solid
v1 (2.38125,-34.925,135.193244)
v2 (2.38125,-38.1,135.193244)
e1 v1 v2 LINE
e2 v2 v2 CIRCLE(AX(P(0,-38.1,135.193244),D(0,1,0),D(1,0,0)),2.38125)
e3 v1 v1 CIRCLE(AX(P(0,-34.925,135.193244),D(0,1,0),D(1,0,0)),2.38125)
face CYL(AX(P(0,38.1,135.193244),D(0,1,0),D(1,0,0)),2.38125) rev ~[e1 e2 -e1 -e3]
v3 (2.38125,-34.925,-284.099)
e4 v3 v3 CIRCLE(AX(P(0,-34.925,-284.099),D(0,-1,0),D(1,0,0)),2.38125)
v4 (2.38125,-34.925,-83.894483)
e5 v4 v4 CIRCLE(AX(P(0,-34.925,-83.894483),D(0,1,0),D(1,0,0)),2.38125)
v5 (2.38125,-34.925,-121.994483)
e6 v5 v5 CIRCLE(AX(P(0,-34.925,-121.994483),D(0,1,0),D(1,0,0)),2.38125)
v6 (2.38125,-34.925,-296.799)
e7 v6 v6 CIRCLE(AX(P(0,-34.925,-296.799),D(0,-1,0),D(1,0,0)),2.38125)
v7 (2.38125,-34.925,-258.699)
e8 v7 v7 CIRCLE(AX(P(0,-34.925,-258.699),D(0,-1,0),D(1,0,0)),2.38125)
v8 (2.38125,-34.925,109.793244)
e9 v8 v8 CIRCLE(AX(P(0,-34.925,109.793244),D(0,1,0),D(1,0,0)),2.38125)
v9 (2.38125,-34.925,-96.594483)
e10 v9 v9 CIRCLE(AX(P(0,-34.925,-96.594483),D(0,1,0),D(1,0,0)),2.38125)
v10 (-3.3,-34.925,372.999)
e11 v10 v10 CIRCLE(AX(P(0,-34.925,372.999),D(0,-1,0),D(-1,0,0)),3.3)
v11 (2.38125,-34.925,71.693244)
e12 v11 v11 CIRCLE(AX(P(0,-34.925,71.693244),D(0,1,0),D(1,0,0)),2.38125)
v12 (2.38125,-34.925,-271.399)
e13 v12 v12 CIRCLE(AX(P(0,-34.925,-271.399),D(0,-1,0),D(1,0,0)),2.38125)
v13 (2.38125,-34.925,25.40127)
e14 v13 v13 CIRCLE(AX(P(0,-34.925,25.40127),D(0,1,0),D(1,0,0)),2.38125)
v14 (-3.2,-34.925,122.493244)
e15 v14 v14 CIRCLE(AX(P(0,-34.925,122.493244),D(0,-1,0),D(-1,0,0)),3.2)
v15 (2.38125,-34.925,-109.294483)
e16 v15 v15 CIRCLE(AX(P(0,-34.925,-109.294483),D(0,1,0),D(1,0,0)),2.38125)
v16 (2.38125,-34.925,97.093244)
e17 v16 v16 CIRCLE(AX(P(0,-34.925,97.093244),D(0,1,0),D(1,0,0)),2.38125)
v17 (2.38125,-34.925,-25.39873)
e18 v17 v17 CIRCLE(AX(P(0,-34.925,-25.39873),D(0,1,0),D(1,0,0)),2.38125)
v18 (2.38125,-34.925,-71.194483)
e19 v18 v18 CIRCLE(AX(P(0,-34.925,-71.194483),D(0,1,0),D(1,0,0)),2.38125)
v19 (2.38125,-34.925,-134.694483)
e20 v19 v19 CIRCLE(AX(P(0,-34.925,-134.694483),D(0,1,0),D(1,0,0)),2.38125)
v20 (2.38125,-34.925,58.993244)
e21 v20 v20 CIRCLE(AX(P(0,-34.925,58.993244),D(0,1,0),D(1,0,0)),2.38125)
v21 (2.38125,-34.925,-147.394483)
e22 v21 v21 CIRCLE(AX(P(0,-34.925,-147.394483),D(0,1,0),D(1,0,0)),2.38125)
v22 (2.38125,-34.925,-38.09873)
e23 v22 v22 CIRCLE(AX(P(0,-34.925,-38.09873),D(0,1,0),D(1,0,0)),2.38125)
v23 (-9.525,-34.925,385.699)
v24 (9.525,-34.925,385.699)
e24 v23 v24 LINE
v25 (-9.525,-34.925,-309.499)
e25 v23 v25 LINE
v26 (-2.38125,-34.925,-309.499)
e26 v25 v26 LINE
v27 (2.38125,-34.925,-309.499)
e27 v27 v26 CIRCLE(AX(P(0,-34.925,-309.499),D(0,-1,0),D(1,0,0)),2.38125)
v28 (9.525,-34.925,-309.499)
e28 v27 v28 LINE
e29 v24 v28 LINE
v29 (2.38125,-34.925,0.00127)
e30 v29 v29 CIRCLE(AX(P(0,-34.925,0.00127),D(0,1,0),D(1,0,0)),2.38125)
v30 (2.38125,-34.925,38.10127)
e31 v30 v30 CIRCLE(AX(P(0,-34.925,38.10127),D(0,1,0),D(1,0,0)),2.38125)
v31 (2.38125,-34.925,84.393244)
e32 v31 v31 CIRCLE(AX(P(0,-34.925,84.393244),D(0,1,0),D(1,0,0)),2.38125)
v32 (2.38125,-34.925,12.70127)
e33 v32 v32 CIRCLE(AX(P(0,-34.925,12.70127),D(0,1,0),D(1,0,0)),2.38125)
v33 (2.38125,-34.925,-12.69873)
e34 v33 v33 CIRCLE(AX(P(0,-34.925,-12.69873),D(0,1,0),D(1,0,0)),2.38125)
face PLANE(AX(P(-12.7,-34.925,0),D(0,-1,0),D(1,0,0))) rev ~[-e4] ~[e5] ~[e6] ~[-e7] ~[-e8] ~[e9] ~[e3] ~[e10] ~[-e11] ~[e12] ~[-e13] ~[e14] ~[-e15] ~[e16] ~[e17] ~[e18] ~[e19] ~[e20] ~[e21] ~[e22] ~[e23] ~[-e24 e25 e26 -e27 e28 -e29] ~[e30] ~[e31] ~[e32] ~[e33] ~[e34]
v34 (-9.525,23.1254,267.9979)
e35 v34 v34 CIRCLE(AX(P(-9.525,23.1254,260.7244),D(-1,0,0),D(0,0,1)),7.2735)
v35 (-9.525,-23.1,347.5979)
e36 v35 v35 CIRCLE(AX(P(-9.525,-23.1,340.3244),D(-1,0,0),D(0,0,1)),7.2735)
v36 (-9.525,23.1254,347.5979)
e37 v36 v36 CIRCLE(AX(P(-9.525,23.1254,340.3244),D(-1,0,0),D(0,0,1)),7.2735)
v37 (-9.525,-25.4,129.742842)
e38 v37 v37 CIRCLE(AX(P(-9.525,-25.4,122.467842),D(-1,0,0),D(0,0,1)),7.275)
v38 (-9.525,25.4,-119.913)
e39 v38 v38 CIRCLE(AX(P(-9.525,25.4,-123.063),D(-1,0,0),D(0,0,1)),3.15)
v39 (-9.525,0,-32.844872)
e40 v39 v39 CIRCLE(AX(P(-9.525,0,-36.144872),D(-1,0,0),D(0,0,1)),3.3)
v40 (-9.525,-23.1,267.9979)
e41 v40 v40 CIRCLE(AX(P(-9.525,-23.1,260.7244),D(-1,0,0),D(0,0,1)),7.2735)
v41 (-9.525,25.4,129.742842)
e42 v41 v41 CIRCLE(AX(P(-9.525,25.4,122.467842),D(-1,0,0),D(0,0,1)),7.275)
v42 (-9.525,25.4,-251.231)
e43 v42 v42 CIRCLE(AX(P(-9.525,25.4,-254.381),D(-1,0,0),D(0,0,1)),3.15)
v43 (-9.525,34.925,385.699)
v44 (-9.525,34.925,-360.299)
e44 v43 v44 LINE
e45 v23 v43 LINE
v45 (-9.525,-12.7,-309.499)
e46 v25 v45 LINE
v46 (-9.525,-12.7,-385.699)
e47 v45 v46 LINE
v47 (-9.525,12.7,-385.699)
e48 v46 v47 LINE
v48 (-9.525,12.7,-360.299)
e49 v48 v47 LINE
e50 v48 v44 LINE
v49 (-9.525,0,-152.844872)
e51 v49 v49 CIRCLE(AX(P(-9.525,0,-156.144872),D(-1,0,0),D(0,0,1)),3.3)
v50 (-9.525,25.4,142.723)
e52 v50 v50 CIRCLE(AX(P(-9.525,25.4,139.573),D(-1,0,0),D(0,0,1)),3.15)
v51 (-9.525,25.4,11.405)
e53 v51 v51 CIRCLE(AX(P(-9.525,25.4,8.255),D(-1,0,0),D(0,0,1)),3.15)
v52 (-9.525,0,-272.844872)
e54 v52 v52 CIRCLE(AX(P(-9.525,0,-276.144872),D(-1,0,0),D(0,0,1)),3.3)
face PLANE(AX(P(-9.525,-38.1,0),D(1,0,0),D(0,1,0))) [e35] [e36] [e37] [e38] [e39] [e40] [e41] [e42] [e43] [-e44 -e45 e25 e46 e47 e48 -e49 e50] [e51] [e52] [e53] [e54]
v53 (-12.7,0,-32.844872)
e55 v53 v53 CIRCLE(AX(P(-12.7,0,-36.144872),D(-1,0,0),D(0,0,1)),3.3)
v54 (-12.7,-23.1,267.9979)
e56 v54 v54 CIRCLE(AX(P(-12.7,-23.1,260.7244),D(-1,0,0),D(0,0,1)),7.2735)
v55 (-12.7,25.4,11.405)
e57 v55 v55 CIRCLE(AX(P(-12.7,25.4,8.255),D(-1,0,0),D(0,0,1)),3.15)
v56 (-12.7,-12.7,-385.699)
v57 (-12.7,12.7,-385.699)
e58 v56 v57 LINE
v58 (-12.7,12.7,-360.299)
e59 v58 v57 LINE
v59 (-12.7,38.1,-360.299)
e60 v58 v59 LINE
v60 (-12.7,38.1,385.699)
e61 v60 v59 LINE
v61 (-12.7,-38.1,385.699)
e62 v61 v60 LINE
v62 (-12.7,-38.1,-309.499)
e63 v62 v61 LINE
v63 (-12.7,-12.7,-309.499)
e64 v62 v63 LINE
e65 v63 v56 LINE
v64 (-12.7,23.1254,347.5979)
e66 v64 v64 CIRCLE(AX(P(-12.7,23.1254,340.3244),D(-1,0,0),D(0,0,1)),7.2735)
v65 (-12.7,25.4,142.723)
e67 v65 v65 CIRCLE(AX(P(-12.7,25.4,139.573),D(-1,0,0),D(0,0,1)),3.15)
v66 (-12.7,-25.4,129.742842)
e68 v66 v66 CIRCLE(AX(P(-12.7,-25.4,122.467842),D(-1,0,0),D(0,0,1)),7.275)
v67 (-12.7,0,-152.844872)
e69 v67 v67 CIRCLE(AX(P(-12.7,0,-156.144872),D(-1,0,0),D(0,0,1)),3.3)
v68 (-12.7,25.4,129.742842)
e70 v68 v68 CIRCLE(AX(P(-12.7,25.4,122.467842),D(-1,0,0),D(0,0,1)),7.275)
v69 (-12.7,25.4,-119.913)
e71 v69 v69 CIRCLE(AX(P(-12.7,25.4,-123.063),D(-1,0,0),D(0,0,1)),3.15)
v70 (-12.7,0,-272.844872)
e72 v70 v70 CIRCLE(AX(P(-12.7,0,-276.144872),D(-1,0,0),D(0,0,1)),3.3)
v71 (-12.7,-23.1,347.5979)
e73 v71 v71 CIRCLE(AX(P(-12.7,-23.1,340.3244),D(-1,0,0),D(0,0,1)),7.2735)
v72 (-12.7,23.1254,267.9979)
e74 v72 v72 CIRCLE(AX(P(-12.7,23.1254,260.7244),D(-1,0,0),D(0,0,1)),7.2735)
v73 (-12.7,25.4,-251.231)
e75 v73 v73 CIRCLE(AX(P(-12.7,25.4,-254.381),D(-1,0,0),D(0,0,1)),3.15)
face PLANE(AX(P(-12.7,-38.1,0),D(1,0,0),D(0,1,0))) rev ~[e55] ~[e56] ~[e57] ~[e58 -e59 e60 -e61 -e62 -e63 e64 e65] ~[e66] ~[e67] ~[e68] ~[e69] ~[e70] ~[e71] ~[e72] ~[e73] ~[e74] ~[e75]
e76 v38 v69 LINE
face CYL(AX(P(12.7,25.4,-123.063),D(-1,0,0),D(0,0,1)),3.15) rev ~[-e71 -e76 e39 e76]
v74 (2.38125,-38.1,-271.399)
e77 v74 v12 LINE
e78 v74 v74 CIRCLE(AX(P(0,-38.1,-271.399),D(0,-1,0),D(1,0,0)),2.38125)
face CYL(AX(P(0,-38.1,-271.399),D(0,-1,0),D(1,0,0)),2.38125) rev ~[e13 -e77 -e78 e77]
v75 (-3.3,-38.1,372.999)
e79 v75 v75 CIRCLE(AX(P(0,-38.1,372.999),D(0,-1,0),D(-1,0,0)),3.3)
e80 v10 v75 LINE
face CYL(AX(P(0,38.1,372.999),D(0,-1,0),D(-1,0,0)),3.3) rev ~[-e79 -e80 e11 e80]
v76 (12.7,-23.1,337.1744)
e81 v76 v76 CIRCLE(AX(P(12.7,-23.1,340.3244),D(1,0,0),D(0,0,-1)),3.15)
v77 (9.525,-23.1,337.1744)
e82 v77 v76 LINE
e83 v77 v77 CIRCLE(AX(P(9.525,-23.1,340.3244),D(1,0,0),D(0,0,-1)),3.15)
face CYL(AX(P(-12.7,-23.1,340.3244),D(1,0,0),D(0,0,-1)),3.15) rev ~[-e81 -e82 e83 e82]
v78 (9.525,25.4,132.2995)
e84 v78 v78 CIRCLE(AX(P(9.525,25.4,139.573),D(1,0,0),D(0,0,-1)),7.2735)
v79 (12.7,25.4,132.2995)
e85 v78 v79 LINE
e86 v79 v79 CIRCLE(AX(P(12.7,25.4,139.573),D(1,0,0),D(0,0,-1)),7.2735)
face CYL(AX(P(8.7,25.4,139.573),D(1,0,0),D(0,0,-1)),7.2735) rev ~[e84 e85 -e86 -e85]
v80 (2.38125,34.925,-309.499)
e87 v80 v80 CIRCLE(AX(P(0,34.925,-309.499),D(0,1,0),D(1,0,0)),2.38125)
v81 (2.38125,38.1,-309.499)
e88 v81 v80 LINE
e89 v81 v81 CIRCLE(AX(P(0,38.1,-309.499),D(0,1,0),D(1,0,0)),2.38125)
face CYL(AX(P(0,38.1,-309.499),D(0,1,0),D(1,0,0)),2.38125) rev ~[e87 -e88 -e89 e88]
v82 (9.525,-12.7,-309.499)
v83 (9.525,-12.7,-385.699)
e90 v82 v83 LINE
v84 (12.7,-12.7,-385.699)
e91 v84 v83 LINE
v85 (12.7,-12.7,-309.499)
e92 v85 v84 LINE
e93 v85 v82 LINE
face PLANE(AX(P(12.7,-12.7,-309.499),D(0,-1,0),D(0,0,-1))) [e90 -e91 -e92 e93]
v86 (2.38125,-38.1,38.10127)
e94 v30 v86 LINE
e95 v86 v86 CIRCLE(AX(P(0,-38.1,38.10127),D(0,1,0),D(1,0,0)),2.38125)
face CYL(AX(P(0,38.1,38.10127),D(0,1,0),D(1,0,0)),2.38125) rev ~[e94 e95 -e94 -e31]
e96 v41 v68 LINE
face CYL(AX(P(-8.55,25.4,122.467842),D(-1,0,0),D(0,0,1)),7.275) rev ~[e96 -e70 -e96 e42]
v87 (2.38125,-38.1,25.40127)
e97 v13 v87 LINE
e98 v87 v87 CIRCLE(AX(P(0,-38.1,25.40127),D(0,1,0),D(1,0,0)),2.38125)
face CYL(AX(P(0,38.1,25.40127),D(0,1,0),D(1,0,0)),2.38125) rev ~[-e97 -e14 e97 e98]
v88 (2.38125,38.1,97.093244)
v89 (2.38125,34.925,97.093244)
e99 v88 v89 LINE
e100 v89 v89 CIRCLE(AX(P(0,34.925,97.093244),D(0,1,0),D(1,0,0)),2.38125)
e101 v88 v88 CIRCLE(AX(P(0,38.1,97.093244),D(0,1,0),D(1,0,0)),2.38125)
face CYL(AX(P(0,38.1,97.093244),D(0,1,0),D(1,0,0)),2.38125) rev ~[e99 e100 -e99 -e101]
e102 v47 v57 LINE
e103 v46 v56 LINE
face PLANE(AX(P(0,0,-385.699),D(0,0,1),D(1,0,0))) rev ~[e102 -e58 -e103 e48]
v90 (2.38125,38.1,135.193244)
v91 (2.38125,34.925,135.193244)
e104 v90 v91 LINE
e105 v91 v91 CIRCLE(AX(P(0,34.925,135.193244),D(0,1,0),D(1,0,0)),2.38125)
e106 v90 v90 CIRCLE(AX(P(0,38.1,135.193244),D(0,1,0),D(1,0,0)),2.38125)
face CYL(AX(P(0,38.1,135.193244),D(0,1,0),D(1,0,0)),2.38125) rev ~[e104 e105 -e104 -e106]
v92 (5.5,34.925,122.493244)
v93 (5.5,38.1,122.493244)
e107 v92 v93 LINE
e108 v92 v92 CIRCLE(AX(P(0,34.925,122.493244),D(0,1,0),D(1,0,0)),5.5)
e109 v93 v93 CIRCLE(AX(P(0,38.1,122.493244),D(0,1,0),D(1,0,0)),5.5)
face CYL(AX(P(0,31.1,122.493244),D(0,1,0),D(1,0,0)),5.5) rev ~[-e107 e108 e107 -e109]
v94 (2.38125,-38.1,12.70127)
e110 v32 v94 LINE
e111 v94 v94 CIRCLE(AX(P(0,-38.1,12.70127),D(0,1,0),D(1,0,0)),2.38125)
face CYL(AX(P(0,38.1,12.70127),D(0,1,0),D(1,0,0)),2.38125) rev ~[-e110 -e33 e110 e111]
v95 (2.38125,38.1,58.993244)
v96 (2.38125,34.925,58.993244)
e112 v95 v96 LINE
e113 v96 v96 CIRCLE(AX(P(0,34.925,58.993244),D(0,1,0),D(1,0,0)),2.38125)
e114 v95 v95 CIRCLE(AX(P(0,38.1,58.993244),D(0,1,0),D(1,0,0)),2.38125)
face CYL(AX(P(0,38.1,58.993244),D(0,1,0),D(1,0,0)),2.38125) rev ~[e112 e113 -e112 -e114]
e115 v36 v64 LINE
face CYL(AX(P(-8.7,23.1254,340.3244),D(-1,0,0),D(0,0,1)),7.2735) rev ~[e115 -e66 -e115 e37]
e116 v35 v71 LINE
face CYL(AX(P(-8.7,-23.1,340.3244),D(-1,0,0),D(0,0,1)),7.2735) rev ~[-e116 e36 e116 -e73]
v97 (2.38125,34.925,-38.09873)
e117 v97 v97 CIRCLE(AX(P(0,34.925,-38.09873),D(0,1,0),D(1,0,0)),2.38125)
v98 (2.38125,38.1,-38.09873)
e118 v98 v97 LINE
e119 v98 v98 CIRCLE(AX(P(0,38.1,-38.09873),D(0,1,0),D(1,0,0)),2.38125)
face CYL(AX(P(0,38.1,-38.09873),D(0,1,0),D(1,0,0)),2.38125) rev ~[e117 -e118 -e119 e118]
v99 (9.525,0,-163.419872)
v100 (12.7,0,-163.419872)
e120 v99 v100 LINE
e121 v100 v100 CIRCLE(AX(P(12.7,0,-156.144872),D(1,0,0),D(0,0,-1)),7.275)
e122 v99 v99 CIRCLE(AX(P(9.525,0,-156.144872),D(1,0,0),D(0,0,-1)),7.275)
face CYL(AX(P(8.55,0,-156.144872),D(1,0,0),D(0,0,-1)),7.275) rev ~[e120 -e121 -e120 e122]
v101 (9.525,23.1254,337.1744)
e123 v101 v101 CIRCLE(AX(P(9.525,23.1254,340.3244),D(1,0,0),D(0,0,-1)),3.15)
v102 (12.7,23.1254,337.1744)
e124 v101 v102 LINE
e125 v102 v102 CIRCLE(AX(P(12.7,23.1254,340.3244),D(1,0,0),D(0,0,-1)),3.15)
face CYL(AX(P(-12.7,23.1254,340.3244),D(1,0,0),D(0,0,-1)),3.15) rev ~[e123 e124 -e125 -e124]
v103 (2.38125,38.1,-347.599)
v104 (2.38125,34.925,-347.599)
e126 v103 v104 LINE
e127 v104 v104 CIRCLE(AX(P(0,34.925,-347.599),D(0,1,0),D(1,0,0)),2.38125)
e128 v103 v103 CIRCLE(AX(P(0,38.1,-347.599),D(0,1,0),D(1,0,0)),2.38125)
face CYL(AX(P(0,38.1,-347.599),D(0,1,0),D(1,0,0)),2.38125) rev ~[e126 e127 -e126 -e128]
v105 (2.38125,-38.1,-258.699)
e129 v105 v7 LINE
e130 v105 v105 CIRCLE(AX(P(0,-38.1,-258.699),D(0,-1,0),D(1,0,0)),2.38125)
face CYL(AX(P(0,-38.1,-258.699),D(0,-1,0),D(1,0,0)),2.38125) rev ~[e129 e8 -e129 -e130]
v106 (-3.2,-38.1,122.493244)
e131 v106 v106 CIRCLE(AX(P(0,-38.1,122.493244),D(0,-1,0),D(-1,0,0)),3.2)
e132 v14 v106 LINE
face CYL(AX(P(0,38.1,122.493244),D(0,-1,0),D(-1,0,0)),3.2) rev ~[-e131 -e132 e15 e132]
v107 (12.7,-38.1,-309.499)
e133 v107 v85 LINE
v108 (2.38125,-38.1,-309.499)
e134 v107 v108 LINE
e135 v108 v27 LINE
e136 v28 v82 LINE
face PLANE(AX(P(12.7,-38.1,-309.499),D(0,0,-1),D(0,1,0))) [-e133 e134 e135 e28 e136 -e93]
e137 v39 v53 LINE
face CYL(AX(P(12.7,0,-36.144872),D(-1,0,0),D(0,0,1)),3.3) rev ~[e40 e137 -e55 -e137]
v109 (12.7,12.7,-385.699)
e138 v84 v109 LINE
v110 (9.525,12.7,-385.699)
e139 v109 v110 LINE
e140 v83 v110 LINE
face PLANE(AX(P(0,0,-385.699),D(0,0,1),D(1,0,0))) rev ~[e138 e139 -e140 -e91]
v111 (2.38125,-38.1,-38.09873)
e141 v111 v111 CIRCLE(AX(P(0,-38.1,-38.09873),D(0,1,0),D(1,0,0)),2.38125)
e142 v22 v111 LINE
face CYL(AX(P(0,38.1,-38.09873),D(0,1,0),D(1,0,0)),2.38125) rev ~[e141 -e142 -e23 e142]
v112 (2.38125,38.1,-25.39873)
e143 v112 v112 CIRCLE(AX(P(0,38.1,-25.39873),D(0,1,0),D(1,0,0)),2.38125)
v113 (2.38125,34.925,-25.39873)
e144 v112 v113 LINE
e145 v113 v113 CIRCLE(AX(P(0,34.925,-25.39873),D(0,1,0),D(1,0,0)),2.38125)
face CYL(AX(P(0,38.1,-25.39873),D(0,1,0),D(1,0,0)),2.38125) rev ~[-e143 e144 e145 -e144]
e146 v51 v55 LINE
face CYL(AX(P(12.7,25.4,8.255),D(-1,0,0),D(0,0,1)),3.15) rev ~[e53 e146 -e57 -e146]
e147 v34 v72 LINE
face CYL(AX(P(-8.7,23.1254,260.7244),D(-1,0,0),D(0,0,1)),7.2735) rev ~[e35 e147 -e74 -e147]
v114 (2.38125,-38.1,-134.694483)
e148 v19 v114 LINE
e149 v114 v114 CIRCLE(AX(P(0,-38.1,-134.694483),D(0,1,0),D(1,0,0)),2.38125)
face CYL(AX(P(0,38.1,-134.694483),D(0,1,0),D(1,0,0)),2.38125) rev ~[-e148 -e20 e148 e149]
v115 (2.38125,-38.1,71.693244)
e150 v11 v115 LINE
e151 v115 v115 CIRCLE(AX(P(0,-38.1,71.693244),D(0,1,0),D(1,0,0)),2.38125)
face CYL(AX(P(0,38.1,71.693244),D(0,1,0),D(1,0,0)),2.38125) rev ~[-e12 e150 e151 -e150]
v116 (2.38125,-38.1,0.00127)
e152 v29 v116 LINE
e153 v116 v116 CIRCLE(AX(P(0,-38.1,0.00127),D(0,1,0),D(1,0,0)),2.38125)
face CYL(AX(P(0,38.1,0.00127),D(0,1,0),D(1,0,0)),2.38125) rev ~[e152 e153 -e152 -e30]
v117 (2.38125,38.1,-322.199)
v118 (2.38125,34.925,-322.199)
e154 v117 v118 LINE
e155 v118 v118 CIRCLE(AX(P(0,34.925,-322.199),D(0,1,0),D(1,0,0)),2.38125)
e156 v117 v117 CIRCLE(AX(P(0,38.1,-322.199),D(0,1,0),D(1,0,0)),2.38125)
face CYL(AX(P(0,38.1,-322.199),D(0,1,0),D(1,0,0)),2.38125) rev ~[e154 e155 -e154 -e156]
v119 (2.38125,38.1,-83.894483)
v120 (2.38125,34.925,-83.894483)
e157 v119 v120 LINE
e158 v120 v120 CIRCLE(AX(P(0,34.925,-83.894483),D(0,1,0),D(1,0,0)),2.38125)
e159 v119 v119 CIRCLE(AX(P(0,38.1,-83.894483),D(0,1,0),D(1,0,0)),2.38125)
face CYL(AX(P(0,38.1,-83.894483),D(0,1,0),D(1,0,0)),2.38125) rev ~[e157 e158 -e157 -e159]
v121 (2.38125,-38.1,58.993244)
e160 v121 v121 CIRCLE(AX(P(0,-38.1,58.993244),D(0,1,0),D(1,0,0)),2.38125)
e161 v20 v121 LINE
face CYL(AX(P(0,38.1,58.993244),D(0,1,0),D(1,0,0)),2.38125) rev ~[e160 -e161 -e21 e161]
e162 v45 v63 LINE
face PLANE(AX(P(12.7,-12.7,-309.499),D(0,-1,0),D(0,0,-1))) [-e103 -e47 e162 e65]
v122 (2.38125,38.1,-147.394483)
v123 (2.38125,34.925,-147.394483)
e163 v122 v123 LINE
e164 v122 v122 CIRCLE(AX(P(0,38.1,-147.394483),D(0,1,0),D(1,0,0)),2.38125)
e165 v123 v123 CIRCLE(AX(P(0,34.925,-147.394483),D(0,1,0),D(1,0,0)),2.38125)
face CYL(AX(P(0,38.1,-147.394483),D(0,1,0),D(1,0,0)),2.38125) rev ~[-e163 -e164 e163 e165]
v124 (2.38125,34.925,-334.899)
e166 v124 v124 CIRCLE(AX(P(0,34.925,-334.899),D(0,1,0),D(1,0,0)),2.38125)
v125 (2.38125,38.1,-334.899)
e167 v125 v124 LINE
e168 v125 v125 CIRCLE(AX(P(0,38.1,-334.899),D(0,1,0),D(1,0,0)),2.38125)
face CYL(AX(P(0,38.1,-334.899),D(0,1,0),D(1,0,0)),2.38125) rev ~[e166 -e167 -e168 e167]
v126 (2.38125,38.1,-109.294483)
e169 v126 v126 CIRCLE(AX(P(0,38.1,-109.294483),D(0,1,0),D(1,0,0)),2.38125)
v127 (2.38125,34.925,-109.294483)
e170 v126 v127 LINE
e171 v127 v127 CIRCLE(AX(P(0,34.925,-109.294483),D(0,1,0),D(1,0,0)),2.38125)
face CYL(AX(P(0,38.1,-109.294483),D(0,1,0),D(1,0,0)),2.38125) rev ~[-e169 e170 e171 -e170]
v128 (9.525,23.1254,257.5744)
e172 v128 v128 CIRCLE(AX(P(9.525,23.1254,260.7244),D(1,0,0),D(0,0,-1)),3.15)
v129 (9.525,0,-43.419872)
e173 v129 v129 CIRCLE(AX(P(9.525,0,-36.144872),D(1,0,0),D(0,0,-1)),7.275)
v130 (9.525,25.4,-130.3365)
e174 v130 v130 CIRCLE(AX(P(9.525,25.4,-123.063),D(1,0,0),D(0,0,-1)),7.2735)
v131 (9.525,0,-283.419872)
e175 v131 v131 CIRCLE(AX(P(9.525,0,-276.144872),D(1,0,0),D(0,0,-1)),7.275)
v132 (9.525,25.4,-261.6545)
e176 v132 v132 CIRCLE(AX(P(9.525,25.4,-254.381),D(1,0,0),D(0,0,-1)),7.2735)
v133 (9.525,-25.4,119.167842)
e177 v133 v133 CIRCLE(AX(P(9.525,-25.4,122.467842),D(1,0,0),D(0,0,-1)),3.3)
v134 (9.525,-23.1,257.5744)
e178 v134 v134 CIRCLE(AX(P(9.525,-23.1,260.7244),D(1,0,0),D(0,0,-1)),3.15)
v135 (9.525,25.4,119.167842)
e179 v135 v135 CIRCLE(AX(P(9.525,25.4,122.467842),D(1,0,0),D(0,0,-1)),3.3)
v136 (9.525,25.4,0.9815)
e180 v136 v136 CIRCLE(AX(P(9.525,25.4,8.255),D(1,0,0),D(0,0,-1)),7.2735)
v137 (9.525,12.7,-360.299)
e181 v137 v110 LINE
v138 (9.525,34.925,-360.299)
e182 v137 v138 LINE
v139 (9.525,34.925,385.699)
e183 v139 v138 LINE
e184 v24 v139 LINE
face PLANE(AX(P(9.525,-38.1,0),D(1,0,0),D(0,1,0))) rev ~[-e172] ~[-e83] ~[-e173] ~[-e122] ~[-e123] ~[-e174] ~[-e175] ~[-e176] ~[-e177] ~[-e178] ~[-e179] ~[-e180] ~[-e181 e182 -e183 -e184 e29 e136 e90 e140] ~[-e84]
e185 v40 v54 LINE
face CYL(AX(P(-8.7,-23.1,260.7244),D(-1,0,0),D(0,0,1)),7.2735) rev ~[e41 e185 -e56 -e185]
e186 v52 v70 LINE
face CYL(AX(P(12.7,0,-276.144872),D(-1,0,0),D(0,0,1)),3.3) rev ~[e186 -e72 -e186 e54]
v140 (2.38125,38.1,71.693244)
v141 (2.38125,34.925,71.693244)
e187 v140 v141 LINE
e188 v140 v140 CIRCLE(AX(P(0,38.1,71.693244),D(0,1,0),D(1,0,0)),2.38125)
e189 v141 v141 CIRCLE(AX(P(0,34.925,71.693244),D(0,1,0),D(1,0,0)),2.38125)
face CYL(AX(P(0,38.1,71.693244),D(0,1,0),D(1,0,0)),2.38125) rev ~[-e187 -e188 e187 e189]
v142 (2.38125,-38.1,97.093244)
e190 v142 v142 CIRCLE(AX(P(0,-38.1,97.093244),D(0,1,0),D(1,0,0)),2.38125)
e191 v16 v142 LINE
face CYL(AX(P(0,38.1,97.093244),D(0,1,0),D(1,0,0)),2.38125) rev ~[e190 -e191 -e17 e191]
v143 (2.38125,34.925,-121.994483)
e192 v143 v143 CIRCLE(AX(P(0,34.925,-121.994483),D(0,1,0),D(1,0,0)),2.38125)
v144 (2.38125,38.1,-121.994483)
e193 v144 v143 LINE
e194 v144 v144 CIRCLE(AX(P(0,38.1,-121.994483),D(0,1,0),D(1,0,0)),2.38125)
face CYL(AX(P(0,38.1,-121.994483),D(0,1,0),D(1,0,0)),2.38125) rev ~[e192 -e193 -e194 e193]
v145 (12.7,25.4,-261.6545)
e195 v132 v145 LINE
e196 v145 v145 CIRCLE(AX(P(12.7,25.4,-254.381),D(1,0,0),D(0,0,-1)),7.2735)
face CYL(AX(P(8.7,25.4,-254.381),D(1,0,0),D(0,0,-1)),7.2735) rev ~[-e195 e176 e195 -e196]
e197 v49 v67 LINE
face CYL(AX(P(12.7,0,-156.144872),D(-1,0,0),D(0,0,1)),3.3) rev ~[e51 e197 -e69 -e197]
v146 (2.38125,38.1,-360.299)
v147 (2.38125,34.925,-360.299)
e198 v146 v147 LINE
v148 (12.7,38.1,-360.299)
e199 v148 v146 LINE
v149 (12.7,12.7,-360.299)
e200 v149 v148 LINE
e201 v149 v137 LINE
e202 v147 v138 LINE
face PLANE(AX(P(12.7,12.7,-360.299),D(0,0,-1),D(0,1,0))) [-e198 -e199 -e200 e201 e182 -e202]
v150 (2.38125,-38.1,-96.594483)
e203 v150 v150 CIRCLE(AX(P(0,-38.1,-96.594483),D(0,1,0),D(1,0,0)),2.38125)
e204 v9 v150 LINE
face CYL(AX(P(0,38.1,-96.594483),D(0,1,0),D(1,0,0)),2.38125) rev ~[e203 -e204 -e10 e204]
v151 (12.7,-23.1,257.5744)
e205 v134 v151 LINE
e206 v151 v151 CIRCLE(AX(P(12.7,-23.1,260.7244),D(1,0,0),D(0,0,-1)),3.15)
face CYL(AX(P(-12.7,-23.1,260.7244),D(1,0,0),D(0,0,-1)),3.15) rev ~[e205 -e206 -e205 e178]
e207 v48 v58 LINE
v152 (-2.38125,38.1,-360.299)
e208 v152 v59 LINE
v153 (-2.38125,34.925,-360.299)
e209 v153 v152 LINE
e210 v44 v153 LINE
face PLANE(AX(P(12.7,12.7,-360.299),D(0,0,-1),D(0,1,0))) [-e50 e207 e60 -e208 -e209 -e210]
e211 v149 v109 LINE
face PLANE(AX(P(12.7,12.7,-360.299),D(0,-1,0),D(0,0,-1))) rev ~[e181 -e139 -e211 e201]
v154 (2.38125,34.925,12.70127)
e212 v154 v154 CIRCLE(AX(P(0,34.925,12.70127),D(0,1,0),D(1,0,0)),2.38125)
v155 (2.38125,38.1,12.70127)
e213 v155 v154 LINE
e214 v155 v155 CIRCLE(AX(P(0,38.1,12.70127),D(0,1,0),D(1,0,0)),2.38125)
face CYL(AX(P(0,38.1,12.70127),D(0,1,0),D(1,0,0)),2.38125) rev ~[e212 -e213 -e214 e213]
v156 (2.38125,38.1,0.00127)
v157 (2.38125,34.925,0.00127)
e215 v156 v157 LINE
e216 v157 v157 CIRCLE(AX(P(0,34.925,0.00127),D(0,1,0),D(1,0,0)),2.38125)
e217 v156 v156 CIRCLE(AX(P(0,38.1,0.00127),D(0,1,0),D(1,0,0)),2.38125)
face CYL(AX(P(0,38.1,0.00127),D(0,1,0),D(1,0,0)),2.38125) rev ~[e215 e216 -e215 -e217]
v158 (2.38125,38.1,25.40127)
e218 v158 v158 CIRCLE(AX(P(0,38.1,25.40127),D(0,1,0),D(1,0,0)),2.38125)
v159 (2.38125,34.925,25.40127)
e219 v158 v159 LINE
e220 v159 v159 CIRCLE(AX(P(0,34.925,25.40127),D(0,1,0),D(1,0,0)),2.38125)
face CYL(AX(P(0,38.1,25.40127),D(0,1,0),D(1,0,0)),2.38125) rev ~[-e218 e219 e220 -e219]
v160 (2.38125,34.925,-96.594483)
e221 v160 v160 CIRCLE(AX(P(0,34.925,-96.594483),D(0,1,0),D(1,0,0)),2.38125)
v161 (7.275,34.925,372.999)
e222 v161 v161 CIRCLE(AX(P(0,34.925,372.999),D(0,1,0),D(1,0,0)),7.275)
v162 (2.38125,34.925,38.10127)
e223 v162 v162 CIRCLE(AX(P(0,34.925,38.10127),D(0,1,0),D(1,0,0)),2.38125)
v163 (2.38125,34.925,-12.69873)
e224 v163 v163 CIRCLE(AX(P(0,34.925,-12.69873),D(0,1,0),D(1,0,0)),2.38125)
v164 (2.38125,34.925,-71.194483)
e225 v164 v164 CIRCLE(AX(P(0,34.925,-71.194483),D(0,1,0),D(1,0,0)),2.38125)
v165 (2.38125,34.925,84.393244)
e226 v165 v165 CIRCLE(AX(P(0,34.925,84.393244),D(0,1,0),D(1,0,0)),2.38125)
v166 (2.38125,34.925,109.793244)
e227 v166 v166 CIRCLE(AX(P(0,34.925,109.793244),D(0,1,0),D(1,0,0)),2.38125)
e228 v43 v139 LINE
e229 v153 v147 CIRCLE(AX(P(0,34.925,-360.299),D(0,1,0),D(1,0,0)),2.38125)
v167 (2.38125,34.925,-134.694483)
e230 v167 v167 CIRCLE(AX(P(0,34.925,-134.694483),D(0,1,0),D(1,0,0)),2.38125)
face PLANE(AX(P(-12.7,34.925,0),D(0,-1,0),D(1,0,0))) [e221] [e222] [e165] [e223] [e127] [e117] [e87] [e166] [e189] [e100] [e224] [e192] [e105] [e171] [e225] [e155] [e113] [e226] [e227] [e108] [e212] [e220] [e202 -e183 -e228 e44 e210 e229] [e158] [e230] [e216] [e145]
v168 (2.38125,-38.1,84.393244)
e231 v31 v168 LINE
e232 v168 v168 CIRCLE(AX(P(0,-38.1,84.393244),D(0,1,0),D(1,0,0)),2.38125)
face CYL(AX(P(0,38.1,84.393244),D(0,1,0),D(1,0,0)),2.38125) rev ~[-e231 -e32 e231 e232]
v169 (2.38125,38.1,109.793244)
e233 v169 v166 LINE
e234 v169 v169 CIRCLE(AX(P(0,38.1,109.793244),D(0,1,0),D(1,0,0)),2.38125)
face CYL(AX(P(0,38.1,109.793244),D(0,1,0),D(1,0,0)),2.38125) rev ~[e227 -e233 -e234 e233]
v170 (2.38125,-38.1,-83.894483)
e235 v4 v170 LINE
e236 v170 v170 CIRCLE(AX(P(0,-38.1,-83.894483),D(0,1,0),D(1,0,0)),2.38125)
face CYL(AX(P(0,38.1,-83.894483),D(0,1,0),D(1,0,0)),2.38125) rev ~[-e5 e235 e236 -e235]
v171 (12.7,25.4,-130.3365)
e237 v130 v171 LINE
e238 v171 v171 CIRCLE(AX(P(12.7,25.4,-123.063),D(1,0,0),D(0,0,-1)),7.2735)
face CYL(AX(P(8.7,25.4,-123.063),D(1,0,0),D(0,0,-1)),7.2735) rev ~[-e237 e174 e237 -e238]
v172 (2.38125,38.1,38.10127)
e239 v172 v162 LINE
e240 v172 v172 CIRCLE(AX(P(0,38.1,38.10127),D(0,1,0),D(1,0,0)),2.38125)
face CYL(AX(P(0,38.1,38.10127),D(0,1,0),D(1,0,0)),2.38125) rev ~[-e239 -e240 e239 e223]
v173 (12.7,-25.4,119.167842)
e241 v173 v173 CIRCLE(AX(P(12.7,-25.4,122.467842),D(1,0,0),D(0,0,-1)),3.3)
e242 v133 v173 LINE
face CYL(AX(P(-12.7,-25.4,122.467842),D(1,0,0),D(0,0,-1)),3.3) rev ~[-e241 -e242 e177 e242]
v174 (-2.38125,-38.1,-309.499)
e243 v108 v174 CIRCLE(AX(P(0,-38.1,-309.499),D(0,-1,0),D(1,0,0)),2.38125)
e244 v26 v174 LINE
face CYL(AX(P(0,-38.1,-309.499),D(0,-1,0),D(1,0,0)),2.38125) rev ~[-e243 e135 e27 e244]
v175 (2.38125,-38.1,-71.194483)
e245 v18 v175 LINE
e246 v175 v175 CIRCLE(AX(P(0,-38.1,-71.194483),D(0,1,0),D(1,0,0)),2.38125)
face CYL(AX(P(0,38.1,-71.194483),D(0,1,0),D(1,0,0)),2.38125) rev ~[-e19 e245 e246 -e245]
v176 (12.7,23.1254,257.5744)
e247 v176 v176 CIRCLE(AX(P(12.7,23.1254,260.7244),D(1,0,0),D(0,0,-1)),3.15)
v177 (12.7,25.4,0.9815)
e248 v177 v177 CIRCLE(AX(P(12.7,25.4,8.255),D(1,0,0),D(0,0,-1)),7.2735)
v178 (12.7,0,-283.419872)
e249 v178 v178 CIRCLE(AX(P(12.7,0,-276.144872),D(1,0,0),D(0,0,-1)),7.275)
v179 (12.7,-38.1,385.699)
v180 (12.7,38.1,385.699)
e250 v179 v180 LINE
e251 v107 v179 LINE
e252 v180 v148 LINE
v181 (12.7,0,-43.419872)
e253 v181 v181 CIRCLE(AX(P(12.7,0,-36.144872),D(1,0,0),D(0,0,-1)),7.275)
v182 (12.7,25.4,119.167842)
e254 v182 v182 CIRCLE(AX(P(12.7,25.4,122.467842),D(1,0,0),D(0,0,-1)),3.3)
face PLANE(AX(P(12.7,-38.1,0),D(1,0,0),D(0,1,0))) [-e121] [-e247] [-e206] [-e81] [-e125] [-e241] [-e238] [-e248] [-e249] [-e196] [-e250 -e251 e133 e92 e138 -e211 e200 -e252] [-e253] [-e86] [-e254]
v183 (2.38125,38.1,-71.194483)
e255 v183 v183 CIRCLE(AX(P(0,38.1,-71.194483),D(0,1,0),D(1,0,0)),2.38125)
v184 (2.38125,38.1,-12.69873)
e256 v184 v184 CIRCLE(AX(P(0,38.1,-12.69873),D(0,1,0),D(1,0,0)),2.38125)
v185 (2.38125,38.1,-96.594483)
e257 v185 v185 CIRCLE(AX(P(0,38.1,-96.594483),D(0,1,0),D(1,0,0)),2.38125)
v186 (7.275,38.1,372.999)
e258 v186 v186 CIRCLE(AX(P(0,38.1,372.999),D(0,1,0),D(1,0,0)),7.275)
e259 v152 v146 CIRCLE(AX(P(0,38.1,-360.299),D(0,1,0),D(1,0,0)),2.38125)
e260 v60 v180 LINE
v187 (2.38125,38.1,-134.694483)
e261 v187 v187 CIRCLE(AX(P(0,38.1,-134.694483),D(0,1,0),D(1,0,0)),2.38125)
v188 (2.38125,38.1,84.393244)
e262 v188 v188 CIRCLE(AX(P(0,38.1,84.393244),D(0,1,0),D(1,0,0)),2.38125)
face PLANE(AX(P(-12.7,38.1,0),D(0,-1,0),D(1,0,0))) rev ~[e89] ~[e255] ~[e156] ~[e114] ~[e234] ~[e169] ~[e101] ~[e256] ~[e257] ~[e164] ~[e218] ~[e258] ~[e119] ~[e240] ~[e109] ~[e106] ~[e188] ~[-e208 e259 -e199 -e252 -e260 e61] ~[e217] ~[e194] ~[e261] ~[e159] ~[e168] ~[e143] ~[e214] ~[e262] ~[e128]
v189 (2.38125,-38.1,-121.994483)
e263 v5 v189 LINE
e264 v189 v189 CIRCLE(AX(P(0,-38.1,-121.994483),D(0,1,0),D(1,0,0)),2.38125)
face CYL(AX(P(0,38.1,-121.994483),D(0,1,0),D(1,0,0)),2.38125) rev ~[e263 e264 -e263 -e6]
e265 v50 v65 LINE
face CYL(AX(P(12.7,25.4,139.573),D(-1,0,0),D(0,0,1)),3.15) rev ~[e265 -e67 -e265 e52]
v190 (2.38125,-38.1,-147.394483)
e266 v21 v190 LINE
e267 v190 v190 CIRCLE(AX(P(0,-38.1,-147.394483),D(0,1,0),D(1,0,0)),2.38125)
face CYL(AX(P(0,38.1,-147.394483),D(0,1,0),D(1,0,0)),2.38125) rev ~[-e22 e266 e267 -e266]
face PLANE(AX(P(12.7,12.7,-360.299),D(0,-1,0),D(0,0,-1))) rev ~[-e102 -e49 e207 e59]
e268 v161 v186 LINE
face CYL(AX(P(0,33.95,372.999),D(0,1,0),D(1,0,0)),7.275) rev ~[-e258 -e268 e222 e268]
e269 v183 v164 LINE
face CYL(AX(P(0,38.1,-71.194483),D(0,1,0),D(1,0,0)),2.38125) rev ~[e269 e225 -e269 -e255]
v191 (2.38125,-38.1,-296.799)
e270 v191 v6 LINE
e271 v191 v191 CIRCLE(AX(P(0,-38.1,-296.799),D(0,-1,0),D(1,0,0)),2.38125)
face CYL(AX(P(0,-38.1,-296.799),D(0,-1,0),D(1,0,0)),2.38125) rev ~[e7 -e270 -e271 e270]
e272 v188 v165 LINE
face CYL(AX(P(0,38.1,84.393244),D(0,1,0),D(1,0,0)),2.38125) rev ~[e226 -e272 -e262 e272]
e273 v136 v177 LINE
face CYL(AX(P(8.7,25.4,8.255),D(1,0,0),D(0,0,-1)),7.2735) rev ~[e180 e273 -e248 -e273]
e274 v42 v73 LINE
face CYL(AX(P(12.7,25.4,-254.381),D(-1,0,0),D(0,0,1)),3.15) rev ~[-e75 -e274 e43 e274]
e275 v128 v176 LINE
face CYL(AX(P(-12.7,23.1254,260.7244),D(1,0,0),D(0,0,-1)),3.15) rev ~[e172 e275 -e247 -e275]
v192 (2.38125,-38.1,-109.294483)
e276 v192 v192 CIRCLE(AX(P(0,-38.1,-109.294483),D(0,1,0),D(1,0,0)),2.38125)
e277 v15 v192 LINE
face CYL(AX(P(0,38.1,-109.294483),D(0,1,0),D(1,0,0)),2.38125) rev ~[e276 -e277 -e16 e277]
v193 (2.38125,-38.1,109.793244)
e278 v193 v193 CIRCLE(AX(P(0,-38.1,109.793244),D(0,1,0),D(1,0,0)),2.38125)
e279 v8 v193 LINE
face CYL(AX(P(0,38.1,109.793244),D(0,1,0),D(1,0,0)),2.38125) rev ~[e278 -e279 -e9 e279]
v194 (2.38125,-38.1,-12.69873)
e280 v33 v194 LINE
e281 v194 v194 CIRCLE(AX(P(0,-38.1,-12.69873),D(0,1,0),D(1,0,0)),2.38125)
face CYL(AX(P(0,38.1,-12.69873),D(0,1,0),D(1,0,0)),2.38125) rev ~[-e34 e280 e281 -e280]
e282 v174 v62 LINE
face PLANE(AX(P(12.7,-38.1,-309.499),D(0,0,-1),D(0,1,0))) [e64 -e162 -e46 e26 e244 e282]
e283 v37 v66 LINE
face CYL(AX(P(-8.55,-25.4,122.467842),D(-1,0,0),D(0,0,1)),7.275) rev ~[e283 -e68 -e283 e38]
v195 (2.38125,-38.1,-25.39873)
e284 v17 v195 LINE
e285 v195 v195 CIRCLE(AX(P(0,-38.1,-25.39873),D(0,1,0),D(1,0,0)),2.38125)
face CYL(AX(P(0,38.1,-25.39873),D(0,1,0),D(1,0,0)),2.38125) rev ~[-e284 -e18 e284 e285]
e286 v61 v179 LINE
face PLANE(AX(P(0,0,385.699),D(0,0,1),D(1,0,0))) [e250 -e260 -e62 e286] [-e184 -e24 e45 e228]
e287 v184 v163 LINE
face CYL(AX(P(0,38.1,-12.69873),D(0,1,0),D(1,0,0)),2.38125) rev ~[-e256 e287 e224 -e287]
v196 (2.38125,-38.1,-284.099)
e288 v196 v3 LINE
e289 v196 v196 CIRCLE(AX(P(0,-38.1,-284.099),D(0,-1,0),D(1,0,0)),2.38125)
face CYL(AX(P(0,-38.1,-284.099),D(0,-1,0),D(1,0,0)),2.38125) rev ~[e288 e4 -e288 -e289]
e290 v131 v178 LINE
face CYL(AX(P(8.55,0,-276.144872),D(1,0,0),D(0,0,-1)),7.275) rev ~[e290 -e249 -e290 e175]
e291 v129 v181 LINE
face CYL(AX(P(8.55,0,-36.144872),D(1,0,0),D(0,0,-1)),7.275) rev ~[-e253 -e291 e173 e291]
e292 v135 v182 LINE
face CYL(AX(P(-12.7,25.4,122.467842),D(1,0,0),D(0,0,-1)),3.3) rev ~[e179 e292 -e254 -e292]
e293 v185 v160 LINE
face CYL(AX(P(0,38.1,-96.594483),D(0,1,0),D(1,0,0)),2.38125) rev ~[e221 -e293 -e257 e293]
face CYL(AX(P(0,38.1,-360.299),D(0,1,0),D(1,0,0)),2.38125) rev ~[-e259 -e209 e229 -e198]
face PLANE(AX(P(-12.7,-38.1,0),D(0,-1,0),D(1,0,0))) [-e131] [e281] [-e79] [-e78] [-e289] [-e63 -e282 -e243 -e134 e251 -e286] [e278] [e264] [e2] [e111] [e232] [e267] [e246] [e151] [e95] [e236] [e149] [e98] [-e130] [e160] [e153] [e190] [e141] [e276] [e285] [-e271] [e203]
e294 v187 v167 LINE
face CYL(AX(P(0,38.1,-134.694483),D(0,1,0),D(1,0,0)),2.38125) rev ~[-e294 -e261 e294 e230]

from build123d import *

# Parameters (mm, degrees)
SKETCH1_W                                           = 25.4
SKETCH1_H                                           = 76.2
BOSS_EXTRUDE1_DEPTH                                 = 385.699
SHELL1_T                                            = -3.175
SKETCH2_W                                           = 76.2
SKETCH2_H                                           = 25.4
CUT_EXTRUDE1_DEPTH                                  = 26.4
SKETCH3_W                                           = 25.4
SKETCH3_H                                           = 25.4
CUT_EXTRUDE2_DEPTH                                  = 26.4
SKETCH4_R                                           = 2.38125
CUT_EXTRUDE3_DEPTH                                  = 77.2
CUT_EXTRUDE4_REACH                                  = 78.2
SKETCH5_R                                           = 2.38125
CUT_EXTRUDE5_REACH                                  = 78.2
SKETCH6_R                                           = 2.38125
CBORE_FOR_M6_HEX_HEAD_BOLT1_D                       = 6.3
CBORE_FOR_M6_HEX_HEAD_BOLT1_CBORE_D                 = 14.547
CBORE_FOR_M6_HEX_HEAD_BOLT1_CBORE_DEPTH             = 4
CBORE_FOR_M6_HEX_HEAD_CAP_SCREW1_D                  = 6.6
CBORE_FOR_M6_HEX_HEAD_CAP_SCREW1_CBORE_D            = 14.55
CBORE_FOR_M6_HEX_HEAD_CAP_SCREW1_CBORE_DEPTH        = 4.15
CBORE_FOR_M6_HEX_HEAD_CAP_SCREW2_D                  = 6.6
CBORE_FOR_M6_HEX_HEAD_CAP_SCREW2_CBORE_D            = 14.55
CBORE_FOR_M6_HEX_HEAD_CAP_SCREW2_CBORE_DEPTH        = 4.15
CBORE_FOR_M6_HEX_HEAD_CAP_SCREW3_D                  = 6.6
CBORE_FOR_M6_HEX_HEAD_CAP_SCREW3_CBORE_D            = 14.55
CBORE_FOR_M6_HEX_HEAD_CAP_SCREW3_CBORE_DEPTH        = 4.15
CBORE_FOR_M6_HEX_HEAD_BOLT2_D                       = 6.3
CBORE_FOR_M6_HEX_HEAD_BOLT2_CBORE_D                 = 14.547
CBORE_FOR_M6_HEX_HEAD_BOLT2_CBORE_DEPTH             = 4
CBORE_FOR_M6_HEX_SOCKET_HEAD_CAP_SCREW1_D           = 6.4
CBORE_FOR_M6_HEX_SOCKET_HEAD_CAP_SCREW1_CBORE_D     = 11
CBORE_FOR_M6_HEX_SOCKET_HEAD_CAP_SCREW1_CBORE_DEPTH = 7


with BuildPart() as part:
    # Sketch1 → Boss-Extrude1 (new body, symmetric)
    with BuildSketch(Plane.XY):
        Rectangle(SKETCH1_W, SKETCH1_H)
    extrude(amount=BOSS_EXTRUDE1_DEPTH, both=True)

    # Shell1
    shell1_openings = [part.faces().sort_by_distance(p)[0] for p in [
        (0, 0, 385.699),
        (0, 0, -385.699),
    ]]
    offset(amount=SHELL1_T, openings=shell1_openings, kind=Kind.INTERSECTION)

    # Sketch2 → Cut-Extrude1 (cut, through all)
    with BuildSketch(Plane(origin=(12.7, 0, 0), x_dir=(0, 0, -1), z_dir=(1, 0, 0))):
        with Locations((347.599, -25.4)):
            Rectangle(SKETCH2_W, SKETCH2_H)
    extrude(amount=-CUT_EXTRUDE1_DEPTH, mode=Mode.SUBTRACT)

    # Sketch3 → Cut-Extrude2 (cut, through all)
    with BuildSketch(Plane(origin=(12.7, 0, 0), x_dir=(0, 0, -1), z_dir=(1, 0, 0))):
        with Locations((372.999, 25.4)):
            Rectangle(SKETCH3_W, SKETCH3_H)
    extrude(amount=-CUT_EXTRUDE2_DEPTH, mode=Mode.SUBTRACT)

    # Sketch4 → Cut-Extrude3 (cut, through all)
    with BuildSketch(Plane(origin=(0, 38.1, 0), x_dir=(1, 0, 0), z_dir=(0, 1, 0))):
        with Locations((0, 147.394483214)):
            Circle(SKETCH4_R)
        with Locations((0, 134.694483214)):
            Circle(SKETCH4_R)
        with Locations((0, 121.994483214)):
            Circle(SKETCH4_R)
        with Locations((0, 109.294483214)):
            Circle(SKETCH4_R)
        with Locations((0, 96.594483214)):
            Circle(SKETCH4_R)
        with Locations((0, 83.894483214)):
            Circle(SKETCH4_R)
        with Locations((0, 71.194483214)):
            Circle(SKETCH4_R)
        with Locations((0, 38.09873)):
            Circle(SKETCH4_R)
        with Locations((0, 25.39873)):
            Circle(SKETCH4_R)
        with Locations((0, 12.69873)):
            Circle(SKETCH4_R)
        with Locations((0, -0.00127)):
            Circle(SKETCH4_R)
        with Locations((0, -12.70127)):
            Circle(SKETCH4_R)
        with Locations((0, -25.40127)):
            Circle(SKETCH4_R)
        with Locations((0, -38.10127)):
            Circle(SKETCH4_R)
        with Locations((0, -58.99324371)):
            Circle(SKETCH4_R)
        with Locations((0, -71.69324371)):
            Circle(SKETCH4_R)
        with Locations((0, -84.39324371)):
            Circle(SKETCH4_R)
        with Locations((0, -97.09324371)):
            Circle(SKETCH4_R)
        with Locations((0, -109.79324371)):
            Circle(SKETCH4_R)
        with Locations((0, -122.49324371)):
            Circle(SKETCH4_R)
        with Locations((0, -135.19324371)):
            Circle(SKETCH4_R)
    extrude(amount=-CUT_EXTRUDE3_DEPTH, mode=Mode.SUBTRACT)

    # Sketch5 → Cut-Extrude4 (cut, up to next)
    with BuildSketch(Plane(origin=(0, 38.1, 0), x_dir=(1, 0, 0), z_dir=(0, 1, 0)), mode=Mode.PRIVATE) as cut_extrude4_sk1:
        with Locations((0, 360.299)):
            Circle(SKETCH5_R)
    cut_extrude4_tool1 = extrude(cut_extrude4_sk1.sketch, amount=-CUT_EXTRUDE4_REACH, mode=Mode.PRIVATE) & part.part
    add(cut_extrude4_tool1.solids().sort_by_distance((0, 38.1, -360.299))[0], mode=Mode.SUBTRACT)
    # Sketch5 → Cut-Extrude4 (cut, up to next)
    with BuildSketch(Plane(origin=(0, 38.1, 0), x_dir=(1, 0, 0), z_dir=(0, 1, 0)), mode=Mode.PRIVATE) as cut_extrude4_sk2:
        with Locations((0, 347.599)):
            Circle(SKETCH5_R)
    cut_extrude4_tool2 = extrude(cut_extrude4_sk2.sketch, amount=-CUT_EXTRUDE4_REACH, mode=Mode.PRIVATE) & part.part
    add(cut_extrude4_tool2.solids().sort_by_distance((0, 38.1, -347.599))[0], mode=Mode.SUBTRACT)
    # Sketch5 → Cut-Extrude4 (cut, up to next)
    with BuildSketch(Plane(origin=(0, 38.1, 0), x_dir=(1, 0, 0), z_dir=(0, 1, 0)), mode=Mode.PRIVATE) as cut_extrude4_sk3:
        with Locations((0, 334.899)):
            Circle(SKETCH5_R)
    cut_extrude4_tool3 = extrude(cut_extrude4_sk3.sketch, amount=-CUT_EXTRUDE4_REACH, mode=Mode.PRIVATE) & part.part
    add(cut_extrude4_tool3.solids().sort_by_distance((0, 38.1, -334.899))[0], mode=Mode.SUBTRACT)
    # Sketch5 → Cut-Extrude4 (cut, up to next)
    with BuildSketch(Plane(origin=(0, 38.1, 0), x_dir=(1, 0, 0), z_dir=(0, 1, 0)), mode=Mode.PRIVATE) as cut_extrude4_sk4:
        with Locations((0, 322.199)):
            Circle(SKETCH5_R)
    cut_extrude4_tool4 = extrude(cut_extrude4_sk4.sketch, amount=-CUT_EXTRUDE4_REACH, mode=Mode.PRIVATE) & part.part
    add(cut_extrude4_tool4.solids().sort_by_distance((0, 38.1, -322.199))[0], mode=Mode.SUBTRACT)
    # Sketch5 → Cut-Extrude4 (cut, up to next)
    with BuildSketch(Plane(origin=(0, 38.1, 0), x_dir=(1, 0, 0), z_dir=(0, 1, 0)), mode=Mode.PRIVATE) as cut_extrude4_sk5:
        with Locations((0, 309.499)):
            Circle(SKETCH5_R)
    cut_extrude4_tool5 = extrude(cut_extrude4_sk5.sketch, amount=-CUT_EXTRUDE4_REACH, mode=Mode.PRIVATE) & part.part
    add(cut_extrude4_tool5.solids().sort_by_distance((0, 38.1, -309.499))[0], mode=Mode.SUBTRACT)

    # Sketch6 → Cut-Extrude5 (cut, up to next)
    with BuildSketch(Plane.XZ.offset(38.1), mode=Mode.PRIVATE) as cut_extrude5_sk1:
        with Locations((0, -309.499)):
            Circle(SKETCH6_R)
    cut_extrude5_tool1 = extrude(cut_extrude5_sk1.sketch, amount=-CUT_EXTRUDE5_REACH, mode=Mode.PRIVATE) & part.part
    add(cut_extrude5_tool1.solids().sort_by_distance((0, -38.1, -309.499))[0], mode=Mode.SUBTRACT)
    # Sketch6 → Cut-Extrude5 (cut, up to next)
    with BuildSketch(Plane.XZ.offset(38.1), mode=Mode.PRIVATE) as cut_extrude5_sk2:
        with Locations((0, -296.799)):
            Circle(SKETCH6_R)
    cut_extrude5_tool2 = extrude(cut_extrude5_sk2.sketch, amount=-CUT_EXTRUDE5_REACH, mode=Mode.PRIVATE) & part.part
    add(cut_extrude5_tool2.solids().sort_by_distance((0, -38.1, -296.799))[0], mode=Mode.SUBTRACT)
    # Sketch6 → Cut-Extrude5 (cut, up to next)
    with BuildSketch(Plane.XZ.offset(38.1), mode=Mode.PRIVATE) as cut_extrude5_sk3:
        with Locations((0, -284.099)):
            Circle(SKETCH6_R)
    cut_extrude5_tool3 = extrude(cut_extrude5_sk3.sketch, amount=-CUT_EXTRUDE5_REACH, mode=Mode.PRIVATE) & part.part
    add(cut_extrude5_tool3.solids().sort_by_distance((0, -38.1, -284.099))[0], mode=Mode.SUBTRACT)
    # Sketch6 → Cut-Extrude5 (cut, up to next)
    with BuildSketch(Plane.XZ.offset(38.1), mode=Mode.PRIVATE) as cut_extrude5_sk4:
        with Locations((0, -258.699)):
            Circle(SKETCH6_R)
    cut_extrude5_tool4 = extrude(cut_extrude5_sk4.sketch, amount=-CUT_EXTRUDE5_REACH, mode=Mode.PRIVATE) & part.part
    add(cut_extrude5_tool4.solids().sort_by_distance((0, -38.1, -258.699))[0], mode=Mode.SUBTRACT)
    # Sketch6 → Cut-Extrude5 (cut, up to next)
    with BuildSketch(Plane.XZ.offset(38.1), mode=Mode.PRIVATE) as cut_extrude5_sk5:
        with Locations((0, -271.399)):
            Circle(SKETCH6_R)
    cut_extrude5_tool5 = extrude(cut_extrude5_sk5.sketch, amount=-CUT_EXTRUDE5_REACH, mode=Mode.PRIVATE) & part.part
    add(cut_extrude5_tool5.solids().sort_by_distance((0, -38.1, -271.399))[0], mode=Mode.SUBTRACT)

    # CBORE for M6 Hex Head Bolt1 (through all)
    with Locations(Plane.ZY.offset(12.7)):
        with Locations((260.7244, 23.1254), (260.7244, -23.1), (340.3244, 23.1254), (340.3244, -23.1)):
            CounterBoreHole(CBORE_FOR_M6_HEX_HEAD_BOLT1_D / 2, CBORE_FOR_M6_HEX_HEAD_BOLT1_CBORE_D / 2, CBORE_FOR_M6_HEX_HEAD_BOLT1_CBORE_DEPTH)

    # CBORE for M6 Hex Head Cap Screw1 (through all)
    with Locations(Plane.ZY.offset(12.7)):
        with Locations((122.46784244, 25.4), (122.46784244, -25.4)):
            CounterBoreHole(CBORE_FOR_M6_HEX_HEAD_CAP_SCREW1_D / 2, CBORE_FOR_M6_HEX_HEAD_CAP_SCREW1_CBORE_D / 2, CBORE_FOR_M6_HEX_HEAD_CAP_SCREW1_CBORE_DEPTH)

    # CBORE for M6 Hex Head Cap Screw2 (through all)
    with Locations(Plane(origin=(0, 38.1, 0), x_dir=(1, 0, 0), z_dir=(0, 1, 0))):
        with Locations((0, -372.999)):
            CounterBoreHole(CBORE_FOR_M6_HEX_HEAD_CAP_SCREW2_D / 2, CBORE_FOR_M6_HEX_HEAD_CAP_SCREW2_CBORE_D / 2, CBORE_FOR_M6_HEX_HEAD_CAP_SCREW2_CBORE_DEPTH)

    # CBORE for M6 Hex Head Cap Screw3 (through all)
    with Locations(Plane(origin=(12.7, 0, 0), x_dir=(0, 0, -1), z_dir=(1, 0, 0))):
        with Locations((36.144871949, 0), (156.144871949, 0), (276.144871949, 0)):
            CounterBoreHole(CBORE_FOR_M6_HEX_HEAD_CAP_SCREW3_D / 2, CBORE_FOR_M6_HEX_HEAD_CAP_SCREW3_CBORE_D / 2, CBORE_FOR_M6_HEX_HEAD_CAP_SCREW3_CBORE_DEPTH)

    # CBORE for M6 Hex Head Bolt2 (through all)
    with Locations(Plane(origin=(12.7, 0, 0), x_dir=(0, 0, -1), z_dir=(1, 0, 0))):
        with Locations((254.381, 25.4), (123.063, 25.4), (-8.255, 25.4), (-139.573, 25.4)):
            CounterBoreHole(CBORE_FOR_M6_HEX_HEAD_BOLT2_D / 2, CBORE_FOR_M6_HEX_HEAD_BOLT2_CBORE_D / 2, CBORE_FOR_M6_HEX_HEAD_BOLT2_CBORE_DEPTH)

    # CBORE for M6 Hex Socket Head Cap Screw1 (through all)
    with Locations(Plane(origin=(0, 38.1, 0), x_dir=(1, 0, 0), z_dir=(0, 1, 0))):
        with Locations((0, -122.49324371)):
            CounterBoreHole(CBORE_FOR_M6_HEX_SOCKET_HEAD_CAP_SCREW1_D / 2, CBORE_FOR_M6_HEX_SOCKET_HEAD_CAP_SCREW1_CBORE_D / 2, CBORE_FOR_M6_HEX_SOCKET_HEAD_CAP_SCREW1_CBORE_DEPTH)


solid = part.part
